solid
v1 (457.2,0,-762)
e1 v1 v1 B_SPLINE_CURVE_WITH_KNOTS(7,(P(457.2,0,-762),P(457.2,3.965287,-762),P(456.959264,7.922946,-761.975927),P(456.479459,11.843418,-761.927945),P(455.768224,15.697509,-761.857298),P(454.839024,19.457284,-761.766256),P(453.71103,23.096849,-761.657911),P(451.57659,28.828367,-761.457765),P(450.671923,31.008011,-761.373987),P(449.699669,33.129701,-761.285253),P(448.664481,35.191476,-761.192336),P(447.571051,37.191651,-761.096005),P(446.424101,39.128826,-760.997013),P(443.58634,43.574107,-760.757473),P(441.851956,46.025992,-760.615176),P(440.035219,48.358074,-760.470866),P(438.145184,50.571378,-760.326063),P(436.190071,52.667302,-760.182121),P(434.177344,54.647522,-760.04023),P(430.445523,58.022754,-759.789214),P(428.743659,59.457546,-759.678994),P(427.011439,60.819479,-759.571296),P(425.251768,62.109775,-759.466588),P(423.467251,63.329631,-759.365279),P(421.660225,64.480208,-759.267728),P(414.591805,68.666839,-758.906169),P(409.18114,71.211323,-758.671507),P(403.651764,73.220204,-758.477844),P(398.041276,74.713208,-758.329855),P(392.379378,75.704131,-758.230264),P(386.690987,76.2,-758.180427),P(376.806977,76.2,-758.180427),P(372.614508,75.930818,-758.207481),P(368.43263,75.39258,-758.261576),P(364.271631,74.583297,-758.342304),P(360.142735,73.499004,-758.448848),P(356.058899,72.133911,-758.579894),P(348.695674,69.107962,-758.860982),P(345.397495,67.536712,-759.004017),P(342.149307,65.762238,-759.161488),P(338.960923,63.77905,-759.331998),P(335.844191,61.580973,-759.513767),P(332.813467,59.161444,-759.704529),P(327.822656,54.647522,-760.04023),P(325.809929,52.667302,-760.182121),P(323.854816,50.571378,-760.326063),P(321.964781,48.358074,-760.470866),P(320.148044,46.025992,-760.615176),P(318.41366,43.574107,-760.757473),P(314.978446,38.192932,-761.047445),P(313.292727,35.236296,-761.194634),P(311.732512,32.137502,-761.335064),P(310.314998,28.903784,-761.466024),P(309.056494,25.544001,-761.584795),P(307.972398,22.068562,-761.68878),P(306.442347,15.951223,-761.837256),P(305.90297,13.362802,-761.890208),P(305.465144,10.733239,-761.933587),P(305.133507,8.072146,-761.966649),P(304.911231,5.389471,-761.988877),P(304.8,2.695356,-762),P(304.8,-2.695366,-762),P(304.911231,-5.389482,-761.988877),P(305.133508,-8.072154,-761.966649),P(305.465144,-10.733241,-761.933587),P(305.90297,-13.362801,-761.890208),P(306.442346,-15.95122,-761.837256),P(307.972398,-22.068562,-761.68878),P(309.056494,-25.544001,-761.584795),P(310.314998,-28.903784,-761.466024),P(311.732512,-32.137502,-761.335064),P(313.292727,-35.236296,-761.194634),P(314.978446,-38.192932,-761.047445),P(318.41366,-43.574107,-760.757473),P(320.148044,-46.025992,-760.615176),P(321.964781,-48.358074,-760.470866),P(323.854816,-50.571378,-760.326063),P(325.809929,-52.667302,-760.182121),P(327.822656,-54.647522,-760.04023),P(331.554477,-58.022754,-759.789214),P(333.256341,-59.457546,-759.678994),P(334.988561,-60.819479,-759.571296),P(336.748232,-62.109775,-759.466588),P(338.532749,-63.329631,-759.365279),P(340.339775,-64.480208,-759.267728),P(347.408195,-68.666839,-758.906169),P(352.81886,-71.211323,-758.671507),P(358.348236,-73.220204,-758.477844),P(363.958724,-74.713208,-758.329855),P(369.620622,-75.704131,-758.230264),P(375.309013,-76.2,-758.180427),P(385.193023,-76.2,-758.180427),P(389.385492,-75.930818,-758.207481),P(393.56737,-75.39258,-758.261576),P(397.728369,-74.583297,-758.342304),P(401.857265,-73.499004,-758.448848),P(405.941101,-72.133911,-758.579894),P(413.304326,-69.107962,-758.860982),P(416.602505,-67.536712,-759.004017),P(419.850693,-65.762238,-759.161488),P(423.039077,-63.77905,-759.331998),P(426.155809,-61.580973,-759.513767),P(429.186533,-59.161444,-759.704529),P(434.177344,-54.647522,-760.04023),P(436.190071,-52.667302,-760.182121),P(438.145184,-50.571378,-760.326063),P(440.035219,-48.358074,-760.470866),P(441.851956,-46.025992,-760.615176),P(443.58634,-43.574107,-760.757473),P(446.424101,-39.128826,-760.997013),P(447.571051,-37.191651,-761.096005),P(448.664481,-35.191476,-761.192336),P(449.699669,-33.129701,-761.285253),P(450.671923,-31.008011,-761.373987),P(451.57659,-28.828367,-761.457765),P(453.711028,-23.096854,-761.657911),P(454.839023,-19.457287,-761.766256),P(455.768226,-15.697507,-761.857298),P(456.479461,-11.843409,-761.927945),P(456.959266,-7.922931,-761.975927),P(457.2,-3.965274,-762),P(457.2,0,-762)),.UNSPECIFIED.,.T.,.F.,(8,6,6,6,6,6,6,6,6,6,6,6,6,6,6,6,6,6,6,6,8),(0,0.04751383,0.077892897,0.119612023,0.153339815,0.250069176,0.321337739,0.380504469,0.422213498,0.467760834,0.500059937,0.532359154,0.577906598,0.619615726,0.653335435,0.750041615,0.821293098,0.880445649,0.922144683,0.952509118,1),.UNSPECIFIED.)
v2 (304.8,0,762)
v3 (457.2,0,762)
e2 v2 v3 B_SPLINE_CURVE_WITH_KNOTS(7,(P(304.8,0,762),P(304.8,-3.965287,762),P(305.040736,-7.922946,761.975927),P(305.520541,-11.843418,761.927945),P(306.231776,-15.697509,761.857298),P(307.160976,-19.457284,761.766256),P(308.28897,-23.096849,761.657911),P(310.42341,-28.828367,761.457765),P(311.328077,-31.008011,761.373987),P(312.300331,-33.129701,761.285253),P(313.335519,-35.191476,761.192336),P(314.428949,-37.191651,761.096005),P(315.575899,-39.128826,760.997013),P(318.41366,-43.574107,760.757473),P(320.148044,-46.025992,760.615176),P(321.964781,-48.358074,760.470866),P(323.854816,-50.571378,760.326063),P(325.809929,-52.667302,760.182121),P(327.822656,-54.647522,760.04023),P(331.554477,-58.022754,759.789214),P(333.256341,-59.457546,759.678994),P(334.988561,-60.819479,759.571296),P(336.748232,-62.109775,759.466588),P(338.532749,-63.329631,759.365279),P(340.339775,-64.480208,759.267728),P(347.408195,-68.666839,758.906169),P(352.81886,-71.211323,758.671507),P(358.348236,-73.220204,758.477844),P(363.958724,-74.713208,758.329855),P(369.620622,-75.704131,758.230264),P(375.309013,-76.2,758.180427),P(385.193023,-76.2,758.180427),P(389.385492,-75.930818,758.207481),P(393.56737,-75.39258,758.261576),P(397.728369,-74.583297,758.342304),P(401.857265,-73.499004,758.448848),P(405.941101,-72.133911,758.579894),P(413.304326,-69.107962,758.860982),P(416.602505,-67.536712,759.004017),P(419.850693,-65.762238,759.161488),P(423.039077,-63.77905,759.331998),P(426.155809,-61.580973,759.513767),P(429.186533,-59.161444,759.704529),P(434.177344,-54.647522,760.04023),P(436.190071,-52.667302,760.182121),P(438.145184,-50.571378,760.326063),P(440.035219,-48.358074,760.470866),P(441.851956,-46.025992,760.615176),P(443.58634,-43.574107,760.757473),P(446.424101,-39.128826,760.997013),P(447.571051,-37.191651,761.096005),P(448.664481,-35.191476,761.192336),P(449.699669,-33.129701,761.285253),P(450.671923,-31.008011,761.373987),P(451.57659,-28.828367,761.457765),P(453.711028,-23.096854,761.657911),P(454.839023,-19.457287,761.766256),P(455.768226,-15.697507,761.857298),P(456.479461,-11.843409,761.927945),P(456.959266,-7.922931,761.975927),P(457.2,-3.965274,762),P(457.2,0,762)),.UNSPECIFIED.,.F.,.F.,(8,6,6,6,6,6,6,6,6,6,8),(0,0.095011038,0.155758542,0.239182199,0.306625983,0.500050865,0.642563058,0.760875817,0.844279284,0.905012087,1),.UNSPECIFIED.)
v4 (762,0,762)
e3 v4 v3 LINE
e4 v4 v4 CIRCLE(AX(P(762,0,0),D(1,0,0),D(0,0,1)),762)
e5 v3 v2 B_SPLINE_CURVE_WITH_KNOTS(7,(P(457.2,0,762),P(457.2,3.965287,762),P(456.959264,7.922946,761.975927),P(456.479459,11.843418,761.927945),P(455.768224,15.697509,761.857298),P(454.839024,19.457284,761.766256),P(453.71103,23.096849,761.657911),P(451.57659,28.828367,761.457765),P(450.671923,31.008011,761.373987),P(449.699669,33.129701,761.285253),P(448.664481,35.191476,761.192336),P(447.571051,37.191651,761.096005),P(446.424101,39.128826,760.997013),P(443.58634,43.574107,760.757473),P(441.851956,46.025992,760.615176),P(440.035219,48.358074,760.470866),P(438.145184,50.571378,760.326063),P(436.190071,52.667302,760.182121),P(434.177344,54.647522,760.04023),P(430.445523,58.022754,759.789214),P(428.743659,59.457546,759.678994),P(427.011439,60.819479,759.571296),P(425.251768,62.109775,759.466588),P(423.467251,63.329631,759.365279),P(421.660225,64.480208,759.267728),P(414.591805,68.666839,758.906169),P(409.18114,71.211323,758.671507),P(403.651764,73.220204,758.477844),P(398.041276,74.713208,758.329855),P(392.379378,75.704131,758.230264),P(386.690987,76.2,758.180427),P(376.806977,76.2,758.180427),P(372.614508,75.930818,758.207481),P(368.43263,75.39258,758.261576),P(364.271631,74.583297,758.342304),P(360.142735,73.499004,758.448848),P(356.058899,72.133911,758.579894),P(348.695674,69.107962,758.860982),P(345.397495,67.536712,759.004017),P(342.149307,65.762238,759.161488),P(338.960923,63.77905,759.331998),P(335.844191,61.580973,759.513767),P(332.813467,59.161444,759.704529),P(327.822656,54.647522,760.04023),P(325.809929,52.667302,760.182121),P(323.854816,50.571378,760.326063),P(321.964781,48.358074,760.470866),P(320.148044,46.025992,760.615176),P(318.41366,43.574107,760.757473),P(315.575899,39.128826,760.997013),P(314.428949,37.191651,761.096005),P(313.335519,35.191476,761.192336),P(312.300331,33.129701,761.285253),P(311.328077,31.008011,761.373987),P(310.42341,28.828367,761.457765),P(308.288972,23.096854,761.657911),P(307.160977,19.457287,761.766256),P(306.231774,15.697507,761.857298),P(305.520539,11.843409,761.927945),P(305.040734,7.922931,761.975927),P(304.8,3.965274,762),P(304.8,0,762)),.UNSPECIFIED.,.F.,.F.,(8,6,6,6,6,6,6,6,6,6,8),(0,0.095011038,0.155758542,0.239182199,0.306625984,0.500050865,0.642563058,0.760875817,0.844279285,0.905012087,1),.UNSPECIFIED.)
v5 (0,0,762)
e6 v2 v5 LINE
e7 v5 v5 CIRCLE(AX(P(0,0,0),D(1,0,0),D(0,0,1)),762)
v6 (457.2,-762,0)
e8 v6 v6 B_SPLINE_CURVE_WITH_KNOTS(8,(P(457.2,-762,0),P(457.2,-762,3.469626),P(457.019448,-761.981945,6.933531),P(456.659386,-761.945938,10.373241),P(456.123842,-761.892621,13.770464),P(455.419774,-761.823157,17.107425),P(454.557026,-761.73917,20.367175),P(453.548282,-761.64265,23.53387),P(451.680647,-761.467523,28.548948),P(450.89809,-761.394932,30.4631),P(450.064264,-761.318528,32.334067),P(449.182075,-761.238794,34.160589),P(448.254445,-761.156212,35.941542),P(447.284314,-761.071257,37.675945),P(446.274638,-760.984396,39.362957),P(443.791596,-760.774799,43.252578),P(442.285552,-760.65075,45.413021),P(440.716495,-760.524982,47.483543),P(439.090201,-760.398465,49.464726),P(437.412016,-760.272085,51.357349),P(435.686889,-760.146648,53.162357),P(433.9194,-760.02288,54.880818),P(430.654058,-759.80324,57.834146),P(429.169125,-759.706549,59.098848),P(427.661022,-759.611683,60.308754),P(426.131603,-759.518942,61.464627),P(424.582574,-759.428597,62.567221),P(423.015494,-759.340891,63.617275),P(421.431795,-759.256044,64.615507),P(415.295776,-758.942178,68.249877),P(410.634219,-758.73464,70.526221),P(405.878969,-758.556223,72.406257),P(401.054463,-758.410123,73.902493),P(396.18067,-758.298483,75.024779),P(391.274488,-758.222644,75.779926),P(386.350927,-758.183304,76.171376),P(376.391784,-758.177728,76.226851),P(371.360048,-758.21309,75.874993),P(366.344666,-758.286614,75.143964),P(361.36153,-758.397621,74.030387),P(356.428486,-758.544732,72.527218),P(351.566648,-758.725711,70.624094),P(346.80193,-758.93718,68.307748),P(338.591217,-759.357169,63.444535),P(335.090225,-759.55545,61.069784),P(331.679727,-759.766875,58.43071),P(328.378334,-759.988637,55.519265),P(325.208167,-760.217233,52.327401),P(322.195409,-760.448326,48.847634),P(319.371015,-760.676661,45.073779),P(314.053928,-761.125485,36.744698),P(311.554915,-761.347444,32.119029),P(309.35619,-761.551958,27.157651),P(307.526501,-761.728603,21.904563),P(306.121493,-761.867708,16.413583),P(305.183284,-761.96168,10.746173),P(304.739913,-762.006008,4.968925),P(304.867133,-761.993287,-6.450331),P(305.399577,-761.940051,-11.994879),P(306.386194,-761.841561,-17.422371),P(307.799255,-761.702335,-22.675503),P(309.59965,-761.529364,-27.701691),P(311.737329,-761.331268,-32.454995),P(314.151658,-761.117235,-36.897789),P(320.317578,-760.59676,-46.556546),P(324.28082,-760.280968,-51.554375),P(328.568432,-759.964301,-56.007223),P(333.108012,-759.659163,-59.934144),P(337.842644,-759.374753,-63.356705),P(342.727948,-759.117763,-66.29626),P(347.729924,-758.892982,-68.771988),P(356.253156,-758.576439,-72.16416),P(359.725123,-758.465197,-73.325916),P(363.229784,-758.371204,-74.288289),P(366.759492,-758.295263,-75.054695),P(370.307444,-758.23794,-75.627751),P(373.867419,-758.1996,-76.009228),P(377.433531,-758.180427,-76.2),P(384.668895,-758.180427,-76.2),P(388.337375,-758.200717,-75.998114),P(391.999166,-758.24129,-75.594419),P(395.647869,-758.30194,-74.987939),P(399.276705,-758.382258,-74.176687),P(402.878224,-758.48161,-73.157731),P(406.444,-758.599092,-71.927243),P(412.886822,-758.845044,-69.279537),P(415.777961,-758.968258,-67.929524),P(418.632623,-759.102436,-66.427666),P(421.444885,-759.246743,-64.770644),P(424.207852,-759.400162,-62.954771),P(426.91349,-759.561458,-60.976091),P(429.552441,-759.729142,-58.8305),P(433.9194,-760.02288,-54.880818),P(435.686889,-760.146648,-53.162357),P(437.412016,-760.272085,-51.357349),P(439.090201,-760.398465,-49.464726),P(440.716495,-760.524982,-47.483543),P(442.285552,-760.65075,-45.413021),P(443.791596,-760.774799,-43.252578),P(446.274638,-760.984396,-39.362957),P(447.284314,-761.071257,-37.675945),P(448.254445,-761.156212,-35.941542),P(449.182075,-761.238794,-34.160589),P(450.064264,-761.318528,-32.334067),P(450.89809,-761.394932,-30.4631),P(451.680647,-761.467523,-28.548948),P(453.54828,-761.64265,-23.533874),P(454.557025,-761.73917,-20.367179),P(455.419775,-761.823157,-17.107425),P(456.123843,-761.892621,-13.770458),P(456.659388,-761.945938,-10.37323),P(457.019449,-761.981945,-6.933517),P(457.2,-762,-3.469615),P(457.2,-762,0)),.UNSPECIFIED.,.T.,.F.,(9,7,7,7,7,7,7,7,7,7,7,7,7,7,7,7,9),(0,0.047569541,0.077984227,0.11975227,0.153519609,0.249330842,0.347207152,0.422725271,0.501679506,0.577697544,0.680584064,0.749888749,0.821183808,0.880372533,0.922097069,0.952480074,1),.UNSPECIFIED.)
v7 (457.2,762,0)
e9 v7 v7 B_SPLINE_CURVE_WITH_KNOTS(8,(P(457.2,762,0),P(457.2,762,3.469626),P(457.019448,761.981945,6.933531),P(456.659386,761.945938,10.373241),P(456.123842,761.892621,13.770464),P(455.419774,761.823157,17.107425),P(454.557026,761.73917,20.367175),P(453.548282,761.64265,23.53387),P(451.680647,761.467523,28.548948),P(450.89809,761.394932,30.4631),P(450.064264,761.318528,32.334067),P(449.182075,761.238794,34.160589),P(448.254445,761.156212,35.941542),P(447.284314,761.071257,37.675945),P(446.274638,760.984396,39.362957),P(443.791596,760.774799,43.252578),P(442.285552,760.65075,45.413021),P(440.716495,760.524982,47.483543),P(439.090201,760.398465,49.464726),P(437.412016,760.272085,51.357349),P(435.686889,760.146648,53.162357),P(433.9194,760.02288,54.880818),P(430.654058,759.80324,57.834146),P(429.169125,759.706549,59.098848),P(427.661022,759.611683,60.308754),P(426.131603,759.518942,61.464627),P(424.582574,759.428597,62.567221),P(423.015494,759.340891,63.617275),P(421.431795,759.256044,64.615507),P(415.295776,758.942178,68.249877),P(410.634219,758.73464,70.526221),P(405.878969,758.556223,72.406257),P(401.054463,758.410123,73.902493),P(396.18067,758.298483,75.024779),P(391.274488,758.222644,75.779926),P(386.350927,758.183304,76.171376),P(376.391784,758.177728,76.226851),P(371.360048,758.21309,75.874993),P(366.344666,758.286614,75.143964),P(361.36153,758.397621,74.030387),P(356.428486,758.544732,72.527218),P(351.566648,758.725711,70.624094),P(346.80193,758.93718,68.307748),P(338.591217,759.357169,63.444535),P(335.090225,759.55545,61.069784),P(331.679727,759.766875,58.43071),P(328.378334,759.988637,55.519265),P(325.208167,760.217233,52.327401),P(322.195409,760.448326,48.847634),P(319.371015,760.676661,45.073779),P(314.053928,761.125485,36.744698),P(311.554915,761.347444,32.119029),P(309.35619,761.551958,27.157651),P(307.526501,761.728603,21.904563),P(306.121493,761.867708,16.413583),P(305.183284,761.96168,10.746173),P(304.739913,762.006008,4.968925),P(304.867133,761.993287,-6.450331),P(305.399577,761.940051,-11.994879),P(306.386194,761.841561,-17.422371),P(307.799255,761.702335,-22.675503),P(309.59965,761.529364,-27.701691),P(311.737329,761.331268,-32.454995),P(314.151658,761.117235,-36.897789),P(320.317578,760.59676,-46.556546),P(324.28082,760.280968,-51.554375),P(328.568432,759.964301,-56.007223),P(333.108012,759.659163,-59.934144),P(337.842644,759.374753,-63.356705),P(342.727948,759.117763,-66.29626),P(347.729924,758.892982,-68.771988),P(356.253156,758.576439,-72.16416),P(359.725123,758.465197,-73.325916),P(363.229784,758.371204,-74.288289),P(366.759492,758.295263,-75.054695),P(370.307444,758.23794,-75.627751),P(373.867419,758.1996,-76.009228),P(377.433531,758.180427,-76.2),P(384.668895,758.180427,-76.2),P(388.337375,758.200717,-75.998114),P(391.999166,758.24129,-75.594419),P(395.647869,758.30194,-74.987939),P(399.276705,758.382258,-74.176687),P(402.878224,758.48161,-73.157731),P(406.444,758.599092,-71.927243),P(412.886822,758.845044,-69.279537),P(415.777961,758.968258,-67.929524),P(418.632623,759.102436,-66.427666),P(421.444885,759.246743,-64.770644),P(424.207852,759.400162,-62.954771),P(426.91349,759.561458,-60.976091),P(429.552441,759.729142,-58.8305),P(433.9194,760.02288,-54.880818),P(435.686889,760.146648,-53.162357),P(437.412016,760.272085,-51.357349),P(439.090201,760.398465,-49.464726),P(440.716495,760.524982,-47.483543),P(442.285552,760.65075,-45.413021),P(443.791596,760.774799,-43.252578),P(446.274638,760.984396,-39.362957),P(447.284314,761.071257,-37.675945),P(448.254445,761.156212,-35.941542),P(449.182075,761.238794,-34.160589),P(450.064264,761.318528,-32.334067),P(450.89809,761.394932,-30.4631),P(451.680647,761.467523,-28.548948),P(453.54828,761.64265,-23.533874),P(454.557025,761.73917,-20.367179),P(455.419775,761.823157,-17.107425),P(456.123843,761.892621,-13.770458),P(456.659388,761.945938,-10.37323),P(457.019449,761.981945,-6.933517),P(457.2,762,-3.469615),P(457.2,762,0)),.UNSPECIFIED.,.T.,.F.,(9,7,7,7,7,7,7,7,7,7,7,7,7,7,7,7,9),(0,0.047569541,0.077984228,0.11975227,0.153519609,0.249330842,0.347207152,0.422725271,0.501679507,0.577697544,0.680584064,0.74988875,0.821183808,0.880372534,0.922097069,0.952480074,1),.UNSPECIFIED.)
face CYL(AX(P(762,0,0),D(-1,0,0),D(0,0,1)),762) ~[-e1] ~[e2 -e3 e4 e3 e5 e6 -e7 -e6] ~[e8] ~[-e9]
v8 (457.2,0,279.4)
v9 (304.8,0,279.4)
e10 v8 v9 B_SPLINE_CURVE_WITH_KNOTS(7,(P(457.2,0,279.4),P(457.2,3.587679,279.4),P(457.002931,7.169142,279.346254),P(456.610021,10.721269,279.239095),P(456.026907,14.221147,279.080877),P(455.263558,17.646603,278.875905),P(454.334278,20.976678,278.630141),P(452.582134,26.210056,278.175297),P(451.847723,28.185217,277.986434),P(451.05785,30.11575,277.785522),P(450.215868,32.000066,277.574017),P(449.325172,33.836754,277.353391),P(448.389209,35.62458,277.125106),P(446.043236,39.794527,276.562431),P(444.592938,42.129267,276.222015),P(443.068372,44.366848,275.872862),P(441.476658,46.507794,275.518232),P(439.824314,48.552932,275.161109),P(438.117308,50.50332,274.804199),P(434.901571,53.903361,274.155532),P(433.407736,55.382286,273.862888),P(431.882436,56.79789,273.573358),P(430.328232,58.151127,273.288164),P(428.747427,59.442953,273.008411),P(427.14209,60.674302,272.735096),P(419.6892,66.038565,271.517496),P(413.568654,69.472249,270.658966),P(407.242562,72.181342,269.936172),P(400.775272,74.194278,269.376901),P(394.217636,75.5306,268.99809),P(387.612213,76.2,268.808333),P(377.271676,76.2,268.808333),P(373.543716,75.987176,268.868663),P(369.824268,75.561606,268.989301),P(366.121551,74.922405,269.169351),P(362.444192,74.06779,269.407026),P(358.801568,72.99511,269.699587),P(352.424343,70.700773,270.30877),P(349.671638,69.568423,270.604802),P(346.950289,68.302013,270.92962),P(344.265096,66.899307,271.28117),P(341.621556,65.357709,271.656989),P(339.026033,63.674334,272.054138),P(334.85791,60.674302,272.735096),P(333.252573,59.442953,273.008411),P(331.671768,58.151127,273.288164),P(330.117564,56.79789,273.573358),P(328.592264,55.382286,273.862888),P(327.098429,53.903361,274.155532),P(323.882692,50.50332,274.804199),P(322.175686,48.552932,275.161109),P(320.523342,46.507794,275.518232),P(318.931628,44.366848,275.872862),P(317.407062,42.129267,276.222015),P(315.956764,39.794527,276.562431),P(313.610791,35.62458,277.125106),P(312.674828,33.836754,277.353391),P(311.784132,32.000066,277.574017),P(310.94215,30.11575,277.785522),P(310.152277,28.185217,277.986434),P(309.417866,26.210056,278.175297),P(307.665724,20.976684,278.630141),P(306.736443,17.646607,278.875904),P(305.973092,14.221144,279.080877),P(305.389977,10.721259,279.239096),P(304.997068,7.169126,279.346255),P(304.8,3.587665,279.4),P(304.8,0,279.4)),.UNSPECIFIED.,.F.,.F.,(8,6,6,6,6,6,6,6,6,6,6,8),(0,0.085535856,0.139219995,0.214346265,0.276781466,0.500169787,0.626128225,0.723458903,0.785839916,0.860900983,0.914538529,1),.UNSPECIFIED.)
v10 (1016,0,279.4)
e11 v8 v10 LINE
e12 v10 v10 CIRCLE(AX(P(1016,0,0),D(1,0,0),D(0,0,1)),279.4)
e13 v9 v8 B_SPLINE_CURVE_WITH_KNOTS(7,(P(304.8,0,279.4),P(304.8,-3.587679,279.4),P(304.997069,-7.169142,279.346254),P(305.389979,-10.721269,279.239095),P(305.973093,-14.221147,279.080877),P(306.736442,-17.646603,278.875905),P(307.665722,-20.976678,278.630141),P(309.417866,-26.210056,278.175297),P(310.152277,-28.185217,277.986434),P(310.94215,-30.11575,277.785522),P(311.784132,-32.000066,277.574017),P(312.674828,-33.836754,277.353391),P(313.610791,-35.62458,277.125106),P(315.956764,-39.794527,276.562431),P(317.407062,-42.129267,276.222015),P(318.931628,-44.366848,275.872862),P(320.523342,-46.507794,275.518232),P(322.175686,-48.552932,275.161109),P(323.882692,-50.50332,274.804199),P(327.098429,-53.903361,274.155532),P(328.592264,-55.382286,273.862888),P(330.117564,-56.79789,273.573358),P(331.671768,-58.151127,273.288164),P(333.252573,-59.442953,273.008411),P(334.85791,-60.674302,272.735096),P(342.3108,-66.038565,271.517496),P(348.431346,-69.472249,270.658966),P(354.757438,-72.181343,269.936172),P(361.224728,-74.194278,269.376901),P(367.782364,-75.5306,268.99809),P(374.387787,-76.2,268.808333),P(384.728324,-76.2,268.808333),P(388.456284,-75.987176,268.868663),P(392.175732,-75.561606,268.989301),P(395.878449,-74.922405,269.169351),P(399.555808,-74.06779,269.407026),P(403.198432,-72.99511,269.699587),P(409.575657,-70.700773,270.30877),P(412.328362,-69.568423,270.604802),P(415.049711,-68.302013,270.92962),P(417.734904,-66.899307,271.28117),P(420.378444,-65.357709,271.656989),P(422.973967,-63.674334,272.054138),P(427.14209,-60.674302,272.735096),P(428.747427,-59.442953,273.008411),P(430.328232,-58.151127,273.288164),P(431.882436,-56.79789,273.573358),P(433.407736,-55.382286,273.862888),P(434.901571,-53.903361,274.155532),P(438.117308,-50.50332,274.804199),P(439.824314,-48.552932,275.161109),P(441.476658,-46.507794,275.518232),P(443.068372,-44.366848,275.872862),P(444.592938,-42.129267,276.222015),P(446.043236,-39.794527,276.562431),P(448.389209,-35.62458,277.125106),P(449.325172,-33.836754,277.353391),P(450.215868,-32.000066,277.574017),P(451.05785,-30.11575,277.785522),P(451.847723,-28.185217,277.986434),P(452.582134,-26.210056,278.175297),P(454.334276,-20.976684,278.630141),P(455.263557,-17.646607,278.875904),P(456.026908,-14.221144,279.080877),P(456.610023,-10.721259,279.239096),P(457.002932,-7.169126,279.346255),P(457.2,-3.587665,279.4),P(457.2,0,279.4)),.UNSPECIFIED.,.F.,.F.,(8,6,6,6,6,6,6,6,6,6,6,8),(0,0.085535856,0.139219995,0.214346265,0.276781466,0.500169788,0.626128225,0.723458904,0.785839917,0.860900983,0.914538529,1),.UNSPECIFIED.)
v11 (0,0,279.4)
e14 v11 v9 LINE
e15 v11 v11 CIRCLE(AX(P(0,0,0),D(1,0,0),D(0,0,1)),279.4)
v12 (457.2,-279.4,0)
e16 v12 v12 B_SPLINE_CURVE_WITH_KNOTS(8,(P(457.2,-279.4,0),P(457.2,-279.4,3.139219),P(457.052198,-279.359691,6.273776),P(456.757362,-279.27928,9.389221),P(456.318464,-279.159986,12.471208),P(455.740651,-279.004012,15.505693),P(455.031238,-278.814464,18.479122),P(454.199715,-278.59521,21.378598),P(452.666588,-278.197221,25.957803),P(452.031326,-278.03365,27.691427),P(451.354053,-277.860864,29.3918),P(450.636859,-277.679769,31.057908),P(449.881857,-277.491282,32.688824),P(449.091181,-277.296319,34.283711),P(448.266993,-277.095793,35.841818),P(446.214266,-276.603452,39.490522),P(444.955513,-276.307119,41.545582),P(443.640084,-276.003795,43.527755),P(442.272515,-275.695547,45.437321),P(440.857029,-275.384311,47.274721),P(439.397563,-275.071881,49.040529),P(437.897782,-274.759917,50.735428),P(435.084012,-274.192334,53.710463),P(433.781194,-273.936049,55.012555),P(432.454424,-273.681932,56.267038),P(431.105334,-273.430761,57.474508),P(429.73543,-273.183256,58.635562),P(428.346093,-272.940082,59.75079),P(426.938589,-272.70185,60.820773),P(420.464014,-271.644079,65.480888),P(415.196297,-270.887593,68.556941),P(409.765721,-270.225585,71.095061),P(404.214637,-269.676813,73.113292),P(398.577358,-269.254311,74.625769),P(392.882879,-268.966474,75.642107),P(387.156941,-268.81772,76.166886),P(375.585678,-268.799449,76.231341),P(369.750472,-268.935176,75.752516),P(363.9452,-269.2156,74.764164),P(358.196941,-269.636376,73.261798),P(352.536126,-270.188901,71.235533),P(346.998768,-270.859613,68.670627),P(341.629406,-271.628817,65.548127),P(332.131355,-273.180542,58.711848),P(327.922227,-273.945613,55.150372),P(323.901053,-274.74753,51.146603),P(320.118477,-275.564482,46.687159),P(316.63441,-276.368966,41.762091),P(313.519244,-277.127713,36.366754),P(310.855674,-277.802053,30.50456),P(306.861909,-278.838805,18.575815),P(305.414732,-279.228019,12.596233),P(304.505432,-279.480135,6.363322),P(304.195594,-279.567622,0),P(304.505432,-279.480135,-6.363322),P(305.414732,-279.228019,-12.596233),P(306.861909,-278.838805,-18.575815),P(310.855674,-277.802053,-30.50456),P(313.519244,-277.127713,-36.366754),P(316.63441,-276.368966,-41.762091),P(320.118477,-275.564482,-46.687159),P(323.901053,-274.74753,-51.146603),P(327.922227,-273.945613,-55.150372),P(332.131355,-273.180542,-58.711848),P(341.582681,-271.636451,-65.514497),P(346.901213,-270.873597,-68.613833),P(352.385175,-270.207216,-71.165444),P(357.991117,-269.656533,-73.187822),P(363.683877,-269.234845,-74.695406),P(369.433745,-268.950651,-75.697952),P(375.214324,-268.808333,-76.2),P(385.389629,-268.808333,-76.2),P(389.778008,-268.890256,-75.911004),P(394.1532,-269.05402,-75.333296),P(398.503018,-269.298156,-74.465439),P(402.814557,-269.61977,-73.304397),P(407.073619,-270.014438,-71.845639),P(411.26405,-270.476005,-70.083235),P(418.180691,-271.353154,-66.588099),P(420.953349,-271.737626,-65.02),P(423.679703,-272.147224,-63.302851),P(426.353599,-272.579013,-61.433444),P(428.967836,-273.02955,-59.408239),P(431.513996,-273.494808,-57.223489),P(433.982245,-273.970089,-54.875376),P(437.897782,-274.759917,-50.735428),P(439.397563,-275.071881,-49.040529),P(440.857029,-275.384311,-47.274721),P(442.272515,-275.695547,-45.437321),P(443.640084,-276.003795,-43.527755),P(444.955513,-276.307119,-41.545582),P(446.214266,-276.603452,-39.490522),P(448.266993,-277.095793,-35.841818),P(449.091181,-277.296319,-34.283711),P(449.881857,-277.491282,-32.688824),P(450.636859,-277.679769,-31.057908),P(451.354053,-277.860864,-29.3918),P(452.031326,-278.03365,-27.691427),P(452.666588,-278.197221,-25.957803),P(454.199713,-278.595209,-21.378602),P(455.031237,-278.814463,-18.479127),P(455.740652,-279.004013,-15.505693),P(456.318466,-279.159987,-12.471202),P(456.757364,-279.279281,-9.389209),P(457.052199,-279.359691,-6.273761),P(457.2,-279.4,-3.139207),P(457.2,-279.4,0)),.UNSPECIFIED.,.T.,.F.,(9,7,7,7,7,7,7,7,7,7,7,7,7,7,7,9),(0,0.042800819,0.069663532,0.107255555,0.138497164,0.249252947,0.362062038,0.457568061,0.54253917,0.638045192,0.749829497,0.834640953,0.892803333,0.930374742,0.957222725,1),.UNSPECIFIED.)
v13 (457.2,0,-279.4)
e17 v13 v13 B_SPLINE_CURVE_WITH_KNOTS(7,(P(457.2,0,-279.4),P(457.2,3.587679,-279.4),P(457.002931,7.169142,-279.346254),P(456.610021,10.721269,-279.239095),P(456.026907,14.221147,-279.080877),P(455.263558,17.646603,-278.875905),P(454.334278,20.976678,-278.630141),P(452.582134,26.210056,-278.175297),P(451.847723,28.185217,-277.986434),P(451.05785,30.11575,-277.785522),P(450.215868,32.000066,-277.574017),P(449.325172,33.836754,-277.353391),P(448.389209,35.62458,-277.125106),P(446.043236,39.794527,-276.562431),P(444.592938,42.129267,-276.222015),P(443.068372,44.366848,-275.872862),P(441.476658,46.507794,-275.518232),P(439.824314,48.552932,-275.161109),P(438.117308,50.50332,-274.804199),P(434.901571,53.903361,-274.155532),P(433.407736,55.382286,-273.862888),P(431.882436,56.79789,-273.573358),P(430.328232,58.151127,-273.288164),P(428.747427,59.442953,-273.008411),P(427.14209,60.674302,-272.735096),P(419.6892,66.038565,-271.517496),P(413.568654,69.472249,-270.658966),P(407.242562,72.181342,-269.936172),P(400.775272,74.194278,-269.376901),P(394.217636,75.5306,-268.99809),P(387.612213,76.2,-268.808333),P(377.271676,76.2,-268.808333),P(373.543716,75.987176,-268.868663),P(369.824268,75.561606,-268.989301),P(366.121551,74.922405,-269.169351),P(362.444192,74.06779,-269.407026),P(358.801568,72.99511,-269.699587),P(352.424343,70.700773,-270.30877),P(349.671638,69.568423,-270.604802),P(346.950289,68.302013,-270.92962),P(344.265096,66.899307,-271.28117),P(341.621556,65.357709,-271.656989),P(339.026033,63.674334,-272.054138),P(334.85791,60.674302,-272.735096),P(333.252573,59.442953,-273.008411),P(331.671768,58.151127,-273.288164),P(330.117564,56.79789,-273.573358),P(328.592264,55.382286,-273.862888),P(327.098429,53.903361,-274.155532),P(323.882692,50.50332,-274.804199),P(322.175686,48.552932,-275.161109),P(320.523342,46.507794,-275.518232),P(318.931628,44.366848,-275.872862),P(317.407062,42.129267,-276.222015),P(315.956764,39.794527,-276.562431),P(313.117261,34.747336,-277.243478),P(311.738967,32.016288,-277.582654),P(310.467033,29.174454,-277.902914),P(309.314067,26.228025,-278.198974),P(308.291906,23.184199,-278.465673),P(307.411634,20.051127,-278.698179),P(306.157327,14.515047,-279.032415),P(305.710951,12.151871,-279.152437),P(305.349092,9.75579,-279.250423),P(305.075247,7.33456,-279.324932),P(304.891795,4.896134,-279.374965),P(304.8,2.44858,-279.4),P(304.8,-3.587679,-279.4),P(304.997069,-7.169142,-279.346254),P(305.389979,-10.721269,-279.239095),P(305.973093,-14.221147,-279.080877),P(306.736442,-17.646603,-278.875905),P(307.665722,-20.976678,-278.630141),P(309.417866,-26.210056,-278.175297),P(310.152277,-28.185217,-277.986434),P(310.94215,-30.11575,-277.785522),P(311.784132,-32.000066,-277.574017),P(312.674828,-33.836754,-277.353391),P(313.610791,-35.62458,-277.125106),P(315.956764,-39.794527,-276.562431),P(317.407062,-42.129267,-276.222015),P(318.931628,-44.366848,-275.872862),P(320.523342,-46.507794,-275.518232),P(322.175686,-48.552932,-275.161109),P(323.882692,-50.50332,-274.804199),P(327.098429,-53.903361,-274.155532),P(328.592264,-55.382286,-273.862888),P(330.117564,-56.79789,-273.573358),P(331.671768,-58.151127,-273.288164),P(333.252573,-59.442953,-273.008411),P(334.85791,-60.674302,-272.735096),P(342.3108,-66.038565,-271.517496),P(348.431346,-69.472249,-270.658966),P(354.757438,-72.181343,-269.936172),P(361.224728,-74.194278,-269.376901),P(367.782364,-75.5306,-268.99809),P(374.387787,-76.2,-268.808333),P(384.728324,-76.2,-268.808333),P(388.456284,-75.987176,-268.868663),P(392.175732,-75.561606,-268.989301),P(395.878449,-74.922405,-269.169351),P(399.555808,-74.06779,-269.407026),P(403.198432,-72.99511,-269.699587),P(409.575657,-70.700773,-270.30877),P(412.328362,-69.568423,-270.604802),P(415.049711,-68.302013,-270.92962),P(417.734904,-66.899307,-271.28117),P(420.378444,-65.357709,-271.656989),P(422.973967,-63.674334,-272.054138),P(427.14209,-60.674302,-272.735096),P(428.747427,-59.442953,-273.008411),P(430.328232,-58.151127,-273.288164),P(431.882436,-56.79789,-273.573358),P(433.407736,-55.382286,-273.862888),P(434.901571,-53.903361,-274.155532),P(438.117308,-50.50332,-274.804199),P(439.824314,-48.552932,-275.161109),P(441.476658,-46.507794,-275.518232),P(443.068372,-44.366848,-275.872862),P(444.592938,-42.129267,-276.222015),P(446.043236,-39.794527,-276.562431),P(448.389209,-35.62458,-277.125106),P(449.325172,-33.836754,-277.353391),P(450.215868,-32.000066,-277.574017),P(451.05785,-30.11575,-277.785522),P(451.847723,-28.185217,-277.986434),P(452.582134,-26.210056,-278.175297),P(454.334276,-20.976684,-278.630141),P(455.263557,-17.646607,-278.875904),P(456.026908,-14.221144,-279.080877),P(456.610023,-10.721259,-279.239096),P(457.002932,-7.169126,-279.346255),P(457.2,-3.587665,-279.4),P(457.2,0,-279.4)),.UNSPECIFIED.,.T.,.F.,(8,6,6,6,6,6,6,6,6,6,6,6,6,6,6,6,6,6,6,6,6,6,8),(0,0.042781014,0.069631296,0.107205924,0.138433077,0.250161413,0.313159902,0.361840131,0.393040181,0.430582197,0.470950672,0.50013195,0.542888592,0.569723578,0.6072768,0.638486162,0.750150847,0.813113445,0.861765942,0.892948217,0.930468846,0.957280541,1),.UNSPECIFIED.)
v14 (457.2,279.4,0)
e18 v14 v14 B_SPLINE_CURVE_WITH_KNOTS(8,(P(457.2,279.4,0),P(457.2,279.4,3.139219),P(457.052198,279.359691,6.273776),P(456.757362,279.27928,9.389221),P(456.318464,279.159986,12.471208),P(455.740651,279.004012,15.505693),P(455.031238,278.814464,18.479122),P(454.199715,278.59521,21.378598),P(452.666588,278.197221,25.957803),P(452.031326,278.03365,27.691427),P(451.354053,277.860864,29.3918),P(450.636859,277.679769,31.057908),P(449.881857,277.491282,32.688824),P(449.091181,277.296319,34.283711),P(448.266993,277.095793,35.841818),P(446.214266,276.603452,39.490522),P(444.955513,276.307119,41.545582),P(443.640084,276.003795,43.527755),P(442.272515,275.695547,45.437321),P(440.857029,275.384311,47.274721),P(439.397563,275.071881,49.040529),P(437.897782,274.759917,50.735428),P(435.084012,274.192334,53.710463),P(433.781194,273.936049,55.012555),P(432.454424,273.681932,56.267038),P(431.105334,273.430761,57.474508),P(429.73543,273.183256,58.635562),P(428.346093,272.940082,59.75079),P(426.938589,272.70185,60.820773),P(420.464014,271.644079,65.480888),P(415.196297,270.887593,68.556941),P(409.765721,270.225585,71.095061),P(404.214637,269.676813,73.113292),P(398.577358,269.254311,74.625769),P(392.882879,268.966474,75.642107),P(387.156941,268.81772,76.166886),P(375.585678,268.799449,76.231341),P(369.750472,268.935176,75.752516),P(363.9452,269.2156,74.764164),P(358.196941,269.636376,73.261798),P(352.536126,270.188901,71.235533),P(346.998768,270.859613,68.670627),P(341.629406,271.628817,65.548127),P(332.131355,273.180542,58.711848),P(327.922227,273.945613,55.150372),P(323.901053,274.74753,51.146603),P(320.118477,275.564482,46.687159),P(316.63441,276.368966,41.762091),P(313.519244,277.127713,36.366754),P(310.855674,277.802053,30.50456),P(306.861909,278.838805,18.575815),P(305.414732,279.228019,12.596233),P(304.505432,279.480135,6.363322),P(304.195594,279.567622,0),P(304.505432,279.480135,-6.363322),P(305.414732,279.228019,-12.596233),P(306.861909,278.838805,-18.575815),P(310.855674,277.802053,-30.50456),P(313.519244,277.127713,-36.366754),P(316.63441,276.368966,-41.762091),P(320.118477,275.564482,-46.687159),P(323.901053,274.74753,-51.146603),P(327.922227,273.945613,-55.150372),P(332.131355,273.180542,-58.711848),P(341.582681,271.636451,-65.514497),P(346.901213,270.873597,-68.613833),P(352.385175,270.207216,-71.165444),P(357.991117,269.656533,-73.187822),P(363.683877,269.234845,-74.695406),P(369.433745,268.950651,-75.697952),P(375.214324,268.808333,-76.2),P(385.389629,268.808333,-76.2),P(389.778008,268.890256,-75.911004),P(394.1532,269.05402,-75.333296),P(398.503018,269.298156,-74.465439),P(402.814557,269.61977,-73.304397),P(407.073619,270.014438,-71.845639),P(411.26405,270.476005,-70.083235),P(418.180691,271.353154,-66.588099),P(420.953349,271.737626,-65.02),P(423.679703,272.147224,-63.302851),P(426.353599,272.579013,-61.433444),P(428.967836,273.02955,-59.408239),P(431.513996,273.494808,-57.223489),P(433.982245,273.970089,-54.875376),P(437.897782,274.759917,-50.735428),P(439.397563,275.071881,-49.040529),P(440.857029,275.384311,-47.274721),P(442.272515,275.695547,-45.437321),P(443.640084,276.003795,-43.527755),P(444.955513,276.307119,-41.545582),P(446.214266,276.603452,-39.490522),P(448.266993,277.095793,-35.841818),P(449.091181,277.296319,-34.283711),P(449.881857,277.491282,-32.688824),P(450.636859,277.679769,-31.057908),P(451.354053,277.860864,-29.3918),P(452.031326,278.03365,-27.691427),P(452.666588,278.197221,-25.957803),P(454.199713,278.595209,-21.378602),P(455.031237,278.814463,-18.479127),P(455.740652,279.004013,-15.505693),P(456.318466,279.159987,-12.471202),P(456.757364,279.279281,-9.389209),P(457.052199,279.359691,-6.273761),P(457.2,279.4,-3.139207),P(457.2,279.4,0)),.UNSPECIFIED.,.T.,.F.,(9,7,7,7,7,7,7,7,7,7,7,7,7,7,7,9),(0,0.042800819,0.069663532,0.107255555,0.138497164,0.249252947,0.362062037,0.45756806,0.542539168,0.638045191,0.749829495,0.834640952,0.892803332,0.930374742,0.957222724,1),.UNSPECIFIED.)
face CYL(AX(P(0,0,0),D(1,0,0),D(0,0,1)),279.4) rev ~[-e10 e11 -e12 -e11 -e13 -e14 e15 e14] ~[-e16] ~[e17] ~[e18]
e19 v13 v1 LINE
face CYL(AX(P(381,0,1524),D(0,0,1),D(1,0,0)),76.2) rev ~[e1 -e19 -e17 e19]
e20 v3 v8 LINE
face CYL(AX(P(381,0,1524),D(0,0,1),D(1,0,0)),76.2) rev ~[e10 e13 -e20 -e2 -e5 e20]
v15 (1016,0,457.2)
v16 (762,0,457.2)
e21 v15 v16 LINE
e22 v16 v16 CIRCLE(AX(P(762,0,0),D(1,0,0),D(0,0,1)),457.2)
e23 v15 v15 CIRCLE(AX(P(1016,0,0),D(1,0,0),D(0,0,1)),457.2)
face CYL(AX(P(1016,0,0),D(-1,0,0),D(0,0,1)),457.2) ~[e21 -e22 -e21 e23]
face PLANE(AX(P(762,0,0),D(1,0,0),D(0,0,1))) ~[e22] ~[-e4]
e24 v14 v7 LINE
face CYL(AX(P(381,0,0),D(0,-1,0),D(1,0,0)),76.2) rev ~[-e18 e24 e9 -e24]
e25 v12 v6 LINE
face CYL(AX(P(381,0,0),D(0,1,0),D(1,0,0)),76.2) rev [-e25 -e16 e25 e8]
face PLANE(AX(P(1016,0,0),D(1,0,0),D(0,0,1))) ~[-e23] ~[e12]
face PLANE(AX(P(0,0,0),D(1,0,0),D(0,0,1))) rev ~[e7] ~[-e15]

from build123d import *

# Parameters (mm, degrees)
F3_R          = 76.2
F4_DEPTH      = 2540
F5_R          = 76.2
F6_DEPTH      = 762.001
F6_DEPTH_BACK = 922.02


with BuildPart() as f1:
    # F0 (on Front) → F1 (revolve)
    with BuildSketch(Plane.XZ):
        Polygon((762, 762), (0, 762), (0, 279.4), (1016, 279.4), (1016, 457.2), (762, 457.2), align=None)
    revolve(axis=Axis((606.499875, 0, 0), (1, 0, 0)))

    # F3 (on offset) → F4 (cut)
    with BuildSketch(Plane.XY.offset(1524)):
        with Locations((381, 0)):
            Circle(F3_R)
    extrude(amount=-F4_DEPTH, mode=Mode.SUBTRACT)

    # F5 (on Front) → F6 (cut, two sides)
    with BuildSketch(Plane.XZ) as f6_sk:
        with Locations((381, 0)):
            Circle(F5_R)
    extrude(amount=F6_DEPTH, mode=Mode.SUBTRACT)
    extrude(f6_sk.sketch, amount=-F6_DEPTH_BACK, mode=Mode.SUBTRACT)


solid = f1.part
